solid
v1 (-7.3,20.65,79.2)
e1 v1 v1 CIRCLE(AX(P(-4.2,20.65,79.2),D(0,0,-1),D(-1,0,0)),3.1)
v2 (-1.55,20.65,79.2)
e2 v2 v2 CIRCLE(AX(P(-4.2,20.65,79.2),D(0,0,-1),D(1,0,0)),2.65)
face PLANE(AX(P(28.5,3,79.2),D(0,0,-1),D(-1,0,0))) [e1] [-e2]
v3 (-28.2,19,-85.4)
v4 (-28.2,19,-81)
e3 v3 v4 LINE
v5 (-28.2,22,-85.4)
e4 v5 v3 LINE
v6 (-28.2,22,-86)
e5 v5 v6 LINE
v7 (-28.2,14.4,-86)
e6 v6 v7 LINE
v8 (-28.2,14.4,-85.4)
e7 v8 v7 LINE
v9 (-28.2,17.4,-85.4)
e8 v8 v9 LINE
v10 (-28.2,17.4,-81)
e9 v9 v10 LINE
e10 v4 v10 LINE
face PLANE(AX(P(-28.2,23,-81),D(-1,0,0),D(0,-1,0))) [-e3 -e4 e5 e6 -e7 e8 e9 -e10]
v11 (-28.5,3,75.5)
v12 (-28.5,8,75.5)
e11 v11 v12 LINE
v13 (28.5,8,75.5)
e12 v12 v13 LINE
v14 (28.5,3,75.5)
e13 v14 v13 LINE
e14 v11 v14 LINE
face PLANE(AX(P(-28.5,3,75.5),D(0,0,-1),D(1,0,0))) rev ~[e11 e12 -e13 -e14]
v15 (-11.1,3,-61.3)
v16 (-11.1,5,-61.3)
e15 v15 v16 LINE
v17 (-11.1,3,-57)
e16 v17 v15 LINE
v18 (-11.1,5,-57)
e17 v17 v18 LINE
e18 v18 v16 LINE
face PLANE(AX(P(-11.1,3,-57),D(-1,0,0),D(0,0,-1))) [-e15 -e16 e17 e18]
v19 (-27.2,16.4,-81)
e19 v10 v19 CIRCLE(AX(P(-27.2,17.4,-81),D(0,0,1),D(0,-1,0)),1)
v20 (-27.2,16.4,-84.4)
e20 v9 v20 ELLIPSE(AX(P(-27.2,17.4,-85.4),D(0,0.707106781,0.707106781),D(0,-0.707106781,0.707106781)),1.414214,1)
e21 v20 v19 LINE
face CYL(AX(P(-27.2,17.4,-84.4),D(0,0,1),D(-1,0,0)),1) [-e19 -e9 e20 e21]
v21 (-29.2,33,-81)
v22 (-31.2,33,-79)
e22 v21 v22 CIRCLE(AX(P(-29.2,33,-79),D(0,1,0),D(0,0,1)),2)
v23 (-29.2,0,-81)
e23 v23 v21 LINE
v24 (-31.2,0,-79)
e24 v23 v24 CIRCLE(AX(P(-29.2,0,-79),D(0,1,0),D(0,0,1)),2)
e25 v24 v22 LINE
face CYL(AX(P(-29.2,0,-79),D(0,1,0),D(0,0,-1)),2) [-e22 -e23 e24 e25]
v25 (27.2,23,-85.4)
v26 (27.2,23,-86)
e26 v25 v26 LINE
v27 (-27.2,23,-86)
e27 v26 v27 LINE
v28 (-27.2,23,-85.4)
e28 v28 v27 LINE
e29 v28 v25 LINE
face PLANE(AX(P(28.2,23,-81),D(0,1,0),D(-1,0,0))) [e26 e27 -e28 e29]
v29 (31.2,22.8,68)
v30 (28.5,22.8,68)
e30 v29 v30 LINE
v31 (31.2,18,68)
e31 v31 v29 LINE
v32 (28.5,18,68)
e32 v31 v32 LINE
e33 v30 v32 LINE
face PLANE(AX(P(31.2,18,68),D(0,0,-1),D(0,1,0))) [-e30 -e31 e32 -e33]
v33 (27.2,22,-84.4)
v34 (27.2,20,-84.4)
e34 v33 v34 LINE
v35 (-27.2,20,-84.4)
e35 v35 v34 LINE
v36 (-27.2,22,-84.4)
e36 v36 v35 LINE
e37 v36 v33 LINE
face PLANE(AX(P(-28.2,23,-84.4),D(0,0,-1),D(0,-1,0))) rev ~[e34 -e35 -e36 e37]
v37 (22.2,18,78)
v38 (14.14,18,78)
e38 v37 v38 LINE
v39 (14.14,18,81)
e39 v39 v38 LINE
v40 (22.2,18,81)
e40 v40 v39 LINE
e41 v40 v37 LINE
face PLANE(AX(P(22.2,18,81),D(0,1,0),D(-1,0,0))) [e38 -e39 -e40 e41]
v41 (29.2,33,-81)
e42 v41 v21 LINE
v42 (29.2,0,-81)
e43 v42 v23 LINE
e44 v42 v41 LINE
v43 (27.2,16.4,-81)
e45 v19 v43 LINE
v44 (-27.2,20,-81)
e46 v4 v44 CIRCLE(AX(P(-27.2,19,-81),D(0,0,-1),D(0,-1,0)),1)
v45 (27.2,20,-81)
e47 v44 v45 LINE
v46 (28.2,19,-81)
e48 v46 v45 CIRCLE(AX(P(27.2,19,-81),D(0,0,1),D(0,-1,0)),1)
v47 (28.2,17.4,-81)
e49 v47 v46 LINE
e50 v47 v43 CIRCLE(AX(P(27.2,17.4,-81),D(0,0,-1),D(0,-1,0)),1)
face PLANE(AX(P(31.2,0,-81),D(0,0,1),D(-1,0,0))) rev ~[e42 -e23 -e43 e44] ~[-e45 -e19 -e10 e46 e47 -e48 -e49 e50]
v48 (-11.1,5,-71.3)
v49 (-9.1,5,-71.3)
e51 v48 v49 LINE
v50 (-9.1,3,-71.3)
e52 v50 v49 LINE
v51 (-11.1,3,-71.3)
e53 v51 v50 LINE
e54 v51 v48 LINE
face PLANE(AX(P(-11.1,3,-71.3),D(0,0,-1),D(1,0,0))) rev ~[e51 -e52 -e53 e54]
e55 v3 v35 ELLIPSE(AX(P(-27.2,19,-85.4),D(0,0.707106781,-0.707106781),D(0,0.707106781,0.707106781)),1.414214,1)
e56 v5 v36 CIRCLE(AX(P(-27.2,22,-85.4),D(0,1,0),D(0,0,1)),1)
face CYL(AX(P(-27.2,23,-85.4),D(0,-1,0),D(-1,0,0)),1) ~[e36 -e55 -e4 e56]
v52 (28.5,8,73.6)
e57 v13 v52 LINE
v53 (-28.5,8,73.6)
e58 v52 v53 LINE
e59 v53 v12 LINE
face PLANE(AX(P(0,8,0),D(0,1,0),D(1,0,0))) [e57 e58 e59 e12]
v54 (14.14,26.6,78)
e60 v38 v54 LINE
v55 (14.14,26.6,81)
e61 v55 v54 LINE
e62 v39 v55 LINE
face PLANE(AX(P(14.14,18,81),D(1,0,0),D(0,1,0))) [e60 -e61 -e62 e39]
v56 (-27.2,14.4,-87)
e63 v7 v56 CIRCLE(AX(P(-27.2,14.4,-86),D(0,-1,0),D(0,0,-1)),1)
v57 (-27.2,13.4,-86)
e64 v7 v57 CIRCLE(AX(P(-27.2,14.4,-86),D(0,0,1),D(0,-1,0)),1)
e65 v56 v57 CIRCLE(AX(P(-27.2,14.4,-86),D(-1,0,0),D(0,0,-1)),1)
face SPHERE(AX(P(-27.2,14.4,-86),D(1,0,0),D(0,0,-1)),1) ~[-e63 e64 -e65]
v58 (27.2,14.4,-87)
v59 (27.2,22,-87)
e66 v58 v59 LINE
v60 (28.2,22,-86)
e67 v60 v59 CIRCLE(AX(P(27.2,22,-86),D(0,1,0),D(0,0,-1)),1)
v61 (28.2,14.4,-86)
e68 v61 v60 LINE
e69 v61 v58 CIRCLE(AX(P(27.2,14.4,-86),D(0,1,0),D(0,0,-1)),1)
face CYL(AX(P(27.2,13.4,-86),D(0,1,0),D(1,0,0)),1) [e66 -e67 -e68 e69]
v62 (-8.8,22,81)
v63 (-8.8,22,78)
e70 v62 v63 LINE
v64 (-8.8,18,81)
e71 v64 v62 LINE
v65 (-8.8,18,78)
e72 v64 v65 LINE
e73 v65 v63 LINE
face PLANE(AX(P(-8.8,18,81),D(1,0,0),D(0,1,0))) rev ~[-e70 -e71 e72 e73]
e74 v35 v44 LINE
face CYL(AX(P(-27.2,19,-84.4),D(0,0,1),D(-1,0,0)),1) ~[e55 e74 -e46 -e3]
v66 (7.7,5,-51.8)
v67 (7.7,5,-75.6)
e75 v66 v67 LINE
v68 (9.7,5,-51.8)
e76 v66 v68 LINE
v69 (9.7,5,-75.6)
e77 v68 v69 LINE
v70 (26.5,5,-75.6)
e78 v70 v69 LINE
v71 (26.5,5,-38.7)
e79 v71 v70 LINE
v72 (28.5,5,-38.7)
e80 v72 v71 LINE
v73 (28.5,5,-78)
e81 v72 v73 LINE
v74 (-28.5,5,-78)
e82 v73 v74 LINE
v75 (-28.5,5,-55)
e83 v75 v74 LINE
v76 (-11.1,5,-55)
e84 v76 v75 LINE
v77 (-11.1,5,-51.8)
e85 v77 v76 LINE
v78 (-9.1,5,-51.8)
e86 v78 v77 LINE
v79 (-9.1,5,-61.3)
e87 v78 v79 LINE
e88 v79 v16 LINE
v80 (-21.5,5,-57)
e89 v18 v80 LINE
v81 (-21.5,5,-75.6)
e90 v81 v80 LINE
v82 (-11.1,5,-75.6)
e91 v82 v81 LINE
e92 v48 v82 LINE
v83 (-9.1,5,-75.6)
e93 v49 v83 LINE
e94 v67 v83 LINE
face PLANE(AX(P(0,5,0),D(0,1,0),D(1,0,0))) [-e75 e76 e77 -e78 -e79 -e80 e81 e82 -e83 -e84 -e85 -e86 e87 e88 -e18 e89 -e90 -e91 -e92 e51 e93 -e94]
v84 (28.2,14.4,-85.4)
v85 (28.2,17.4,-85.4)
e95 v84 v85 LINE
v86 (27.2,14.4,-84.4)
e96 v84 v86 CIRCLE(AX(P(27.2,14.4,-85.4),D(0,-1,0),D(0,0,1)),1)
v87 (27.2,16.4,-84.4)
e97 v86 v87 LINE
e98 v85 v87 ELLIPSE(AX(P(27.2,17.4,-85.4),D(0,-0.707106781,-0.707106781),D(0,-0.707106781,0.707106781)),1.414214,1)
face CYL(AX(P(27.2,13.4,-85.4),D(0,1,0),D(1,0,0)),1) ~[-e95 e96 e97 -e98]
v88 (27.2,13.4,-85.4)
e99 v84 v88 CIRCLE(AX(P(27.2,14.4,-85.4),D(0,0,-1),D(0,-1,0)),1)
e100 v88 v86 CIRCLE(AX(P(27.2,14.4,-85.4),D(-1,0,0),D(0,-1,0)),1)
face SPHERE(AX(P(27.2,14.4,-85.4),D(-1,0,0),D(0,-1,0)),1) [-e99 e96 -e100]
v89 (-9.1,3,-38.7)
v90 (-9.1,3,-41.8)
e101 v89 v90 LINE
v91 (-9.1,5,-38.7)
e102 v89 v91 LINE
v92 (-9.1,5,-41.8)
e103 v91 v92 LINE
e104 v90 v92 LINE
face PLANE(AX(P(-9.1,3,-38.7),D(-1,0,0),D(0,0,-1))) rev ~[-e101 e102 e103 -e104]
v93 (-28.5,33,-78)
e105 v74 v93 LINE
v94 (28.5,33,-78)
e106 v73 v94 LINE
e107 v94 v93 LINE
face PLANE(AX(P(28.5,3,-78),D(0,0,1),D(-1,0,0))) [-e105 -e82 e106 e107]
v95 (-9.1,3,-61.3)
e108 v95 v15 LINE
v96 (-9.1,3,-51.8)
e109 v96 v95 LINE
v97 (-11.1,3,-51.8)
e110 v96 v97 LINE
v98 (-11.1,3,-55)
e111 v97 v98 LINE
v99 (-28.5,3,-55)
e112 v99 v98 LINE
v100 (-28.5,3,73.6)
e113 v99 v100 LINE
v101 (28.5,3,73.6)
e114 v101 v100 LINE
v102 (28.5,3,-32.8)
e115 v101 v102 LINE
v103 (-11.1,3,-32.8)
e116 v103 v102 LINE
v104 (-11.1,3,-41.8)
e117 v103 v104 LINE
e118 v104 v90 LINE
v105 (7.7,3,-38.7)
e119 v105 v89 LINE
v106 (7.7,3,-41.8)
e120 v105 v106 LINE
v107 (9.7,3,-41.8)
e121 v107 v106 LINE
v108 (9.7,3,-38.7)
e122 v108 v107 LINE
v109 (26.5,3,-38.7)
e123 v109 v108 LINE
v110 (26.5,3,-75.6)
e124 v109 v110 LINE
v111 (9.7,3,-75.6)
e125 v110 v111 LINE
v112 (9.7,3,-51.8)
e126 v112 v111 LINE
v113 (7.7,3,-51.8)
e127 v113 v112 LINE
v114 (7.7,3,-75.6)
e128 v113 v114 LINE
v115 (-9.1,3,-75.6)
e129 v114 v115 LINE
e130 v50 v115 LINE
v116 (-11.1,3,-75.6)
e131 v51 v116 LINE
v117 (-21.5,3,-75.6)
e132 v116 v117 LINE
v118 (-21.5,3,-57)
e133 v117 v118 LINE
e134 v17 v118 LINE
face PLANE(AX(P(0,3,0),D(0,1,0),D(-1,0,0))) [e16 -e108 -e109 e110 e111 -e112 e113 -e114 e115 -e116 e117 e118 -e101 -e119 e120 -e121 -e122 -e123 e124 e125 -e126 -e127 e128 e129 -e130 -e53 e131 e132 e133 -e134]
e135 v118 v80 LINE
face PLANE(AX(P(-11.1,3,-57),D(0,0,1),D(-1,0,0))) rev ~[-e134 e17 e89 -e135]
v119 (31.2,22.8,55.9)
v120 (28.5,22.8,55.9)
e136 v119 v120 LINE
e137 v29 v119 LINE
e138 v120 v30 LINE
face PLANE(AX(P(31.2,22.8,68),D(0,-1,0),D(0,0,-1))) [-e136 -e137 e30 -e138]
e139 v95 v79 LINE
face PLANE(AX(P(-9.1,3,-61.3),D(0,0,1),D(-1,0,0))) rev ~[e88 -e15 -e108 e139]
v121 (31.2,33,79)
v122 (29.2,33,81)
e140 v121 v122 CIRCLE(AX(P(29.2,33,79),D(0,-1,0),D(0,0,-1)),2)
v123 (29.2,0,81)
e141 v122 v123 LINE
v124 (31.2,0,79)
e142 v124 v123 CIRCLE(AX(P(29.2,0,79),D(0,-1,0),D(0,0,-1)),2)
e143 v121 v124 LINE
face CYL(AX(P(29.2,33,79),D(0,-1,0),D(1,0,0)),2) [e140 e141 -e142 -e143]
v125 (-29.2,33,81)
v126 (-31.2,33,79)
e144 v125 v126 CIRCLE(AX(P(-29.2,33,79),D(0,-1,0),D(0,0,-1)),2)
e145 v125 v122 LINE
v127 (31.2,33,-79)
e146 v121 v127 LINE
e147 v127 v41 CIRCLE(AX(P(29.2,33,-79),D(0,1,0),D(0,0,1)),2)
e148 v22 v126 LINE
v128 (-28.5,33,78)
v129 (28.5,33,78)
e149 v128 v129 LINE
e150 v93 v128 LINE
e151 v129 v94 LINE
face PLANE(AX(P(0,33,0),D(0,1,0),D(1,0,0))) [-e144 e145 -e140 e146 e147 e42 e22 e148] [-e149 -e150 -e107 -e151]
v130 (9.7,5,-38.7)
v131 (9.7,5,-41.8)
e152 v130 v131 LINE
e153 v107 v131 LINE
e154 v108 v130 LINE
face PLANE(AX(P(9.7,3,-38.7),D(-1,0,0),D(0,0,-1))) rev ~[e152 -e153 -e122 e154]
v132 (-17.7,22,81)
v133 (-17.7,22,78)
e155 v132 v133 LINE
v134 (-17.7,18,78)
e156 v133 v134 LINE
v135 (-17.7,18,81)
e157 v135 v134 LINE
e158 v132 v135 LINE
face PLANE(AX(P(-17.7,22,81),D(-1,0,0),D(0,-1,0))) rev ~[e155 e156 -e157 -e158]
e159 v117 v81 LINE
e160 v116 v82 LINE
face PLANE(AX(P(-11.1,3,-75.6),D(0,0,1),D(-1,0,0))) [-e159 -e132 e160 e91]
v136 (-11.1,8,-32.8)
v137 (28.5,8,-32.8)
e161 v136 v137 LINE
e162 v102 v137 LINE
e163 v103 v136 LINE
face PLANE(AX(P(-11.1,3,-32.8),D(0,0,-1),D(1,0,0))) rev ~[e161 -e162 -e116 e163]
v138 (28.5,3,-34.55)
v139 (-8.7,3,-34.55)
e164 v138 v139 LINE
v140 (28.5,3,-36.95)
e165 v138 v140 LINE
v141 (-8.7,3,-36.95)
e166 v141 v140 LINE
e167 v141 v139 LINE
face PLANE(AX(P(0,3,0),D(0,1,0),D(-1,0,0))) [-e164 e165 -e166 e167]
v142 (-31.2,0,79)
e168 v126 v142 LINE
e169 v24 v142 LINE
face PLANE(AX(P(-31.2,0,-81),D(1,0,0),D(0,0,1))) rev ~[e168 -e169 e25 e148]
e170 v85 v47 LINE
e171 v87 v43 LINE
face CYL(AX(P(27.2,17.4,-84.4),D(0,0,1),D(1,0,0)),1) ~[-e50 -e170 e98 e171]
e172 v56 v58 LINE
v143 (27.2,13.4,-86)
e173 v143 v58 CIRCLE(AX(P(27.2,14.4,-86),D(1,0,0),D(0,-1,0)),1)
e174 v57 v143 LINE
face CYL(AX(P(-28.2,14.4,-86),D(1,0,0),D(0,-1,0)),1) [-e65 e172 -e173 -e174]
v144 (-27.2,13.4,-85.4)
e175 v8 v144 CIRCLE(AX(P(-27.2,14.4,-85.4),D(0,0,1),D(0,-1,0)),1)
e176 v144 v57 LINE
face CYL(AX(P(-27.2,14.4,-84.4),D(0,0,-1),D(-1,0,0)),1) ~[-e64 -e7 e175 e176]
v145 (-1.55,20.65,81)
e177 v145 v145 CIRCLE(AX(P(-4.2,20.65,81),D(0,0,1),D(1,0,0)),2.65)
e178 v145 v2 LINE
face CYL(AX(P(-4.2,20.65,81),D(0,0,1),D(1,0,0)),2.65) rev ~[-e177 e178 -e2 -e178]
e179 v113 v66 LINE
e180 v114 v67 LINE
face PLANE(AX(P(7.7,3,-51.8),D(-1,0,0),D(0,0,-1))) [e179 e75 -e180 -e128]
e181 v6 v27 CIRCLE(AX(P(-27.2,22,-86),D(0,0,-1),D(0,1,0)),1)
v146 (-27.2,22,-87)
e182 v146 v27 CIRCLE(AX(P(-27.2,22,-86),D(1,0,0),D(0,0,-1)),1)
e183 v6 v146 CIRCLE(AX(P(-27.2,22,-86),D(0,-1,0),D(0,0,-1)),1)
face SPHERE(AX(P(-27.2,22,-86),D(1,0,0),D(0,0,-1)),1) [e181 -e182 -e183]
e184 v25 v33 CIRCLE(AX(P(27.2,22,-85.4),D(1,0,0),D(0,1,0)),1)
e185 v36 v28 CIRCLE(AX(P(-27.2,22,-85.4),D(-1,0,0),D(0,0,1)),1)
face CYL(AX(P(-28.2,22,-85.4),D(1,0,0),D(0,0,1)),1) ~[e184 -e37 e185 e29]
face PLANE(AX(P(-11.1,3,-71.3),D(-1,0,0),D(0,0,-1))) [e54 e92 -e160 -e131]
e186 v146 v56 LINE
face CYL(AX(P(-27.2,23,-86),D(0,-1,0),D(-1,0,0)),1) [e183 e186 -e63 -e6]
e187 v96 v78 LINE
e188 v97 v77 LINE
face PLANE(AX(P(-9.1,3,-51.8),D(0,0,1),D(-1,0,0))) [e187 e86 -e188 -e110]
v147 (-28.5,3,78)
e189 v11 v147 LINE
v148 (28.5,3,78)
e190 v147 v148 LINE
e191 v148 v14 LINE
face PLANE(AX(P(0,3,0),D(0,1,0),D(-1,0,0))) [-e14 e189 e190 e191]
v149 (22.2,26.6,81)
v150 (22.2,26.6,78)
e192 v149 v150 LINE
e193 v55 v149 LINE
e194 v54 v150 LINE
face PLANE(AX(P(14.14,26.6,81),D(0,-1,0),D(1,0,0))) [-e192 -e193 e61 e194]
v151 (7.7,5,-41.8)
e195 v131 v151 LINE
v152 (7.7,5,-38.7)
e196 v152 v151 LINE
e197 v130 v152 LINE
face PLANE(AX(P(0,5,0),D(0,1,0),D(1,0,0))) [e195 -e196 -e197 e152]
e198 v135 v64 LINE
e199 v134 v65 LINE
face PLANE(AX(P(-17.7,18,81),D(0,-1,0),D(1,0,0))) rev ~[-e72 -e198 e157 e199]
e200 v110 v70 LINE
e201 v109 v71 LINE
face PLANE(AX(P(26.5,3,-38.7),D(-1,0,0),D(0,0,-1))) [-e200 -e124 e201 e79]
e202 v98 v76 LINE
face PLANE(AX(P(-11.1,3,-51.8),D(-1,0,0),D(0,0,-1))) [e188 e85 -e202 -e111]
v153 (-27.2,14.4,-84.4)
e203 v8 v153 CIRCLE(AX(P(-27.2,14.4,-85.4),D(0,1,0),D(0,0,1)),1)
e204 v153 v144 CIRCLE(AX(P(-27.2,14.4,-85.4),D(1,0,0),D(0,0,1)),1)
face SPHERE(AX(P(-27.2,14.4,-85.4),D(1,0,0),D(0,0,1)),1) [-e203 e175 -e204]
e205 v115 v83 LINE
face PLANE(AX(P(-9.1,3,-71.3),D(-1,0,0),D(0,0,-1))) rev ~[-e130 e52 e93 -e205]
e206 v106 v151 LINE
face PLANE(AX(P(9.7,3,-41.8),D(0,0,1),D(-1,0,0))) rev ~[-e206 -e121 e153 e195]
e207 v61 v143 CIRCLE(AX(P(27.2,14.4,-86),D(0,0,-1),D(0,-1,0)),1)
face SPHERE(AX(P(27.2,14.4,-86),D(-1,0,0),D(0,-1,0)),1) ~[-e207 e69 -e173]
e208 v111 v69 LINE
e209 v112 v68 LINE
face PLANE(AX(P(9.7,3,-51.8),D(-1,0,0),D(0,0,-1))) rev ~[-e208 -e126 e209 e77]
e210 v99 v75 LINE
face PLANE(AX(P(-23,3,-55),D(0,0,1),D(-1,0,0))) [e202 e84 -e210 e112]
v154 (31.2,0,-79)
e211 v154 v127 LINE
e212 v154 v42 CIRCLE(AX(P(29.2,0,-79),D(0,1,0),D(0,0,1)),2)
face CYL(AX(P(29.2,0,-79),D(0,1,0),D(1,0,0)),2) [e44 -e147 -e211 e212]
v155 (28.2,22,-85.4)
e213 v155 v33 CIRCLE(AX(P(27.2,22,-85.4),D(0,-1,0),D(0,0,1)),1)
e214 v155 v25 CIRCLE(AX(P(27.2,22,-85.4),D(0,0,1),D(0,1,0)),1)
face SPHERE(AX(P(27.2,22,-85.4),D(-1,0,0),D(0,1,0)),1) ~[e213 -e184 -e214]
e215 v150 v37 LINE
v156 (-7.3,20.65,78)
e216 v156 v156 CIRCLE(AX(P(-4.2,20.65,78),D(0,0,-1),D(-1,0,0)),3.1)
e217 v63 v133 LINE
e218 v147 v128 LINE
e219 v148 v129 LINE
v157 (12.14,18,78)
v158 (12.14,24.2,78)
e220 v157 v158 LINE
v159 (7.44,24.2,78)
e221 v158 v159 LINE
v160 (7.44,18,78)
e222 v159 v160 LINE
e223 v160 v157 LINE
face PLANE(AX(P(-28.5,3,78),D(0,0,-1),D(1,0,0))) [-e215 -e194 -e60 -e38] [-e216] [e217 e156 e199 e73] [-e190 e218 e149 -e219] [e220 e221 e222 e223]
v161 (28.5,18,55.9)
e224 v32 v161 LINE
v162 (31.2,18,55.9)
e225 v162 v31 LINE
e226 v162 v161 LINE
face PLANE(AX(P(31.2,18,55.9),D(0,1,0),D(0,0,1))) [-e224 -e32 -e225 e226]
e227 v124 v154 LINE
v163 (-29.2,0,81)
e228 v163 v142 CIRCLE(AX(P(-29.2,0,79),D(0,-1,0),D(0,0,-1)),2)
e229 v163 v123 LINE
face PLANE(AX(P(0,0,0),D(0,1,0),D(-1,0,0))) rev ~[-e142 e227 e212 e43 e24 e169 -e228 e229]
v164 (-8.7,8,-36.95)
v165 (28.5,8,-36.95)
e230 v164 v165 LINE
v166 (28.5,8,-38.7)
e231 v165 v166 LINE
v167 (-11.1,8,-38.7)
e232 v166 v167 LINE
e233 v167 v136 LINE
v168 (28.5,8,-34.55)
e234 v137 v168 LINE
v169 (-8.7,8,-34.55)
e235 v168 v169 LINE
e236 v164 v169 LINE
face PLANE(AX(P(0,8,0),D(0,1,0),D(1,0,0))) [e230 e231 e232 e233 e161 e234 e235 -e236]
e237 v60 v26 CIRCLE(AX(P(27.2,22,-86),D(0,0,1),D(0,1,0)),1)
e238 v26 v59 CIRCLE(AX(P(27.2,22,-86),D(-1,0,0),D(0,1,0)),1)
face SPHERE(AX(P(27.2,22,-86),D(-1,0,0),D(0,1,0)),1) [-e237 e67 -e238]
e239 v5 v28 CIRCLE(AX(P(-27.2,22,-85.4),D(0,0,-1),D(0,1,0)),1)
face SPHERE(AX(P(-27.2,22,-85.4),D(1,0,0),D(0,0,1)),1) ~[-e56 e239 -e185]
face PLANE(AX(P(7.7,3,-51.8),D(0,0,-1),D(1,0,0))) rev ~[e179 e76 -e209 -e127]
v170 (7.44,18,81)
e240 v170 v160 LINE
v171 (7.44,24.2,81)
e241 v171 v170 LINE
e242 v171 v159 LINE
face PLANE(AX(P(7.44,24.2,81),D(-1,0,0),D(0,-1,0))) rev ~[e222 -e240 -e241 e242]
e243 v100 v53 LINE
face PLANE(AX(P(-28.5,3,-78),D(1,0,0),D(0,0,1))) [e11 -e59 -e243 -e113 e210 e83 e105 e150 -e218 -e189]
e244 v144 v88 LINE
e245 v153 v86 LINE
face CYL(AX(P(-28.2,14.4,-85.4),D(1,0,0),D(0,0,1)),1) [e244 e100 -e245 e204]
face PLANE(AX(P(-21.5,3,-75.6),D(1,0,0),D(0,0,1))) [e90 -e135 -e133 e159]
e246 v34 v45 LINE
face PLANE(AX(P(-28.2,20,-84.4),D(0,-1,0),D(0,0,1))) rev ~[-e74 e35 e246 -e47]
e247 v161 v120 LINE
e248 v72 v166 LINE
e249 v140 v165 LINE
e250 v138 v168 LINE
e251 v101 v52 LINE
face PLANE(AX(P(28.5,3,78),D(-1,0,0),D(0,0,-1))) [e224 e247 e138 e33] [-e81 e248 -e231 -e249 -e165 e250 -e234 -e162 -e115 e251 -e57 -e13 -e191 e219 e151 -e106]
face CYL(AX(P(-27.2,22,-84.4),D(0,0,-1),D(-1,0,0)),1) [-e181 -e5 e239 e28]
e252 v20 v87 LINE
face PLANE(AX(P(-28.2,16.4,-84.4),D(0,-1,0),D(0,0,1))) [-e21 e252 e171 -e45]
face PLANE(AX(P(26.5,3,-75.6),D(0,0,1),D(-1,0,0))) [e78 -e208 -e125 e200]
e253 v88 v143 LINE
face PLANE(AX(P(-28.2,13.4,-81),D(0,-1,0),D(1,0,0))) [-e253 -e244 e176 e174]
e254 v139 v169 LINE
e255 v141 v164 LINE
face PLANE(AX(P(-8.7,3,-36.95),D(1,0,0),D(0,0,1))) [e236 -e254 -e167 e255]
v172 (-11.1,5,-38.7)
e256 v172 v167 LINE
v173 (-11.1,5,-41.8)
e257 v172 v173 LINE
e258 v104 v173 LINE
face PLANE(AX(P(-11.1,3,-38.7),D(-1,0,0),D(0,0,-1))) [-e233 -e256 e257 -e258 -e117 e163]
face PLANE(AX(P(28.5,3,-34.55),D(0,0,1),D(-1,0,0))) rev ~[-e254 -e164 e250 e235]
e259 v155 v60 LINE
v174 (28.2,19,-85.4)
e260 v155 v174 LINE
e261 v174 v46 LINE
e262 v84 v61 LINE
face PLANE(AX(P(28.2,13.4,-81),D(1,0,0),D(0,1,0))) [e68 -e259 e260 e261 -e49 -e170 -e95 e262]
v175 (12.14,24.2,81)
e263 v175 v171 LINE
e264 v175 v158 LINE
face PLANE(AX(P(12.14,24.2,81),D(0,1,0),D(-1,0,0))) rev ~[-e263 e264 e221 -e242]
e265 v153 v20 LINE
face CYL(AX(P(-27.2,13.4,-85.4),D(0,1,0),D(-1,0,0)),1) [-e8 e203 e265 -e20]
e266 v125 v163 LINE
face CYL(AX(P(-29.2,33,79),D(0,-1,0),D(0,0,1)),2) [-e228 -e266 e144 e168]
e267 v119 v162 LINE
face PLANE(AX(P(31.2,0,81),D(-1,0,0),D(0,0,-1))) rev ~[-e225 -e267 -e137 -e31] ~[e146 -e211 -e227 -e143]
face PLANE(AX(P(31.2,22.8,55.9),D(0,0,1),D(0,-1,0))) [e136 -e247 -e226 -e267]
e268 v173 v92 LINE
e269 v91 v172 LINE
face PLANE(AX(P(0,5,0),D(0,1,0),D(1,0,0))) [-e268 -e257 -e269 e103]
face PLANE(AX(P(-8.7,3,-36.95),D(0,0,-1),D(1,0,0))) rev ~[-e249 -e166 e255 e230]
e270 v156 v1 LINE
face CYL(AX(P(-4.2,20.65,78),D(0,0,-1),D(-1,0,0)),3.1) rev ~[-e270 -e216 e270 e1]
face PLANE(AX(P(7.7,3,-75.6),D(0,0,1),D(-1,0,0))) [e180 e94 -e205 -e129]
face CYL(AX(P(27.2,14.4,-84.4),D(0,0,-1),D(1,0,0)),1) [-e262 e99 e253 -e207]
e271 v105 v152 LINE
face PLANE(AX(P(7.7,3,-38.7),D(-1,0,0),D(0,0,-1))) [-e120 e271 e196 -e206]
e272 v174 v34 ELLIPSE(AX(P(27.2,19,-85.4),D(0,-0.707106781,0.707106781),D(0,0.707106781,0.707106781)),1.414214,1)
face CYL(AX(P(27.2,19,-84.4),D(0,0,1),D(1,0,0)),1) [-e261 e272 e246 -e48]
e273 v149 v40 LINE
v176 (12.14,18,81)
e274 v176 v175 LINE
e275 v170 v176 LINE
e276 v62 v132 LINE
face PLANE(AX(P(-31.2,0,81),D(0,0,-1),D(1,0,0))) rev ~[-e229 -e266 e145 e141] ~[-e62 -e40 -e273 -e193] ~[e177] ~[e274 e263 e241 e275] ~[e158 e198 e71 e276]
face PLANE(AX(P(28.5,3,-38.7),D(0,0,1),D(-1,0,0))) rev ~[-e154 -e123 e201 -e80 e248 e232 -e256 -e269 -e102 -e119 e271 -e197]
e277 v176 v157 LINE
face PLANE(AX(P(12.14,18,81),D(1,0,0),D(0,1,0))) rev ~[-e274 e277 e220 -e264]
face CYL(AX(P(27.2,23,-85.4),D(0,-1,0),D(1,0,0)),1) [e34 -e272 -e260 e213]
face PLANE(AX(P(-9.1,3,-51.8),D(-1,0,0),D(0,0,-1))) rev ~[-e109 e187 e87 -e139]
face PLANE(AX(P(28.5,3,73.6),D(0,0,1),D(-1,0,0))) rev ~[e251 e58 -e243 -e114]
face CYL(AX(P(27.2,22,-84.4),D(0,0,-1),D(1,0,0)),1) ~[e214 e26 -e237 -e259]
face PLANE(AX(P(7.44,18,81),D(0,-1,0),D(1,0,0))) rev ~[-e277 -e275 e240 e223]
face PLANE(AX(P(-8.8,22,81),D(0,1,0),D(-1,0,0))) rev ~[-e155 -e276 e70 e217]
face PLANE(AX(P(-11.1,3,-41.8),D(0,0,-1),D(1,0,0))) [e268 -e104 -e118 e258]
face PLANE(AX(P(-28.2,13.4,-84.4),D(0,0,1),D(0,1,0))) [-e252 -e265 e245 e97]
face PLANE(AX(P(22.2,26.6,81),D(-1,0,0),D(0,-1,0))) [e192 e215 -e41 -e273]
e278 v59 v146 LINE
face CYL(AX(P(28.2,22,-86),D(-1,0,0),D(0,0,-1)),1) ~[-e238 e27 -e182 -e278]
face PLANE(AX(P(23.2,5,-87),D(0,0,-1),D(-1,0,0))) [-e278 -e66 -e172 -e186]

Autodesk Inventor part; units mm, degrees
ref_plane "YZ Plane" through (0, 0, 0) normal (1, 0, 0) x (0, 1, 0)
ref_plane "XZ Plane" through (0, 0, 0) normal (0, 1, 0) x (-1, 0, 0)
ref_plane "XY Plane" through (0, 0, 0) normal (0, 0, 1) x (1, 0, 0)
sketch "Sketch1" plane through (0, 0, 0) normal (0, 1, 0) x (-1, 0, 0)
  line L0 (-31.2, -81) -> (31.2, -81)
  line L1 (31.2, -81) -> (31.2, 81)
  line L2 (31.2, 81) -> (-31.2, 81)
  line L3 (-31.2, 81) -> (-31.2, -81)
  line L4 (-31.2, -81) -> (31.2, 81) construction
  line L5 (31.2, -81) -> (-31.2, 81) construction
  point P0 (0, 0)
  dimension "d0" = 62.4
  dimension "d1" = 162
extrude "Extrusion1" add sketch "Sketch1" along normal blind 3
sketch "Sketch2" plane through (0, 3, 0) normal (0, 1, 0) x (1, 0, 0)
  line L0 (-31.2, 81) -> (-31.2, -81) projected
  line L1 (-31.2, -81) -> (31.2, -81) projected
  line L2 (31.2, -81) -> (31.2, 81) projected
  line L3 (31.2, 81) -> (-31.2, 81) projected
  line L4 (31.2, 81) -> (-31.2, 81)
  line L5 (-31.2, 81) -> (-31.2, -81)
  line L6 (-31.2, -81) -> (31.2, -81)
  line L7 (31.2, -81) -> (31.2, 81)
  line L8 (28.5, 78) -> (-28.5, 78)
  line L9 (-28.5, 78) -> (-28.5, -78)
  line L10 (-28.5, -78) -> (28.5, -78)
  line L11 (28.5, -78) -> (28.5, 78)
  point P0 (0, 0)
  dimension "d175" = 2.7
  dimension "d176" = 2.7
  dimension "d177" = 3
  dimension "d178" = 3
extrude "Extrusion2" add sketch "Sketch2" along normal blind 30
fillet "Fillet1" radius 2 4 edges at (31.2, 16.5, 81) (31.2, 16.5, -81) (-31.2, 16.5, 81) (-31.2, 16.5, -81)
sketch "Sketch9" plane through (0, 3, 0) normal (0, 1, 0) x (1, 0, 0)
  line L0 (28.5, 78) -> (-28.5, 78) projected
  line L1 (-28.5, 78) -> (-28.5, -78) projected
  line L2 (-28.5, -78) -> (28.5, -78) projected
  line L3 (28.5, -78) -> (28.5, 78) projected
  line L4 (-28.5, -75.5) -> (28.5, -75.5)
  line L5 (28.5, -75.5) -> (28.5, -73.6)
  line L6 (28.5, -73.6) -> (-28.5, -73.6)
  line L7 (-28.5, -73.6) -> (-28.5, -75.5)
  line L8 (-28.5, 78) -> (-28.5, -78) projected
  line L9 (-28.5, 32.8) -> (28.5, 32.8)
  line L10 (28.5, 32.8) -> (28.5, 34.55)
  line L11 (28.5, 34.55) -> (-28.5, 34.55)
  line L12 (-28.5, 34.55) -> (-28.5, 32.8)
  line L13 (-28.5, 34.55) -> (-11.1, 34.55)
  line L14 (-11.1, 34.55) -> (-11.1, 32.8)
  line L15 (-11.1, 32.8) -> (-28.5, 32.8)
  line L16 (-28.5, 32.8) -> (-28.5, 34.55)
  line L17 (28.5, 38.7) -> (-11.1, 38.7)
  line L18 (-11.1, 38.7) -> (-11.1, 36.95)
  line L19 (-11.1, 36.95) -> (28.5, 36.95)
  line L20 (28.5, 36.95) -> (28.5, 38.7)
  line L21 (-11.1, 36.95) -> (-8.7, 36.95)
  line L22 (-8.7, 36.95) -> (-8.7, 34.55)
  line L23 (-8.7, 34.55) -> (-11.1, 34.55)
  line L24 (-11.1, 34.55) -> (-11.1, 36.95)
  point P0 (0, 0)
  point P1 (28.5, 14.2)
  point P2 (-28.5, 34.55)
  point P3 (-28.5, 32.8)
  point P4 (28.5, 32.8)
  point P5 (-28.5, -73.6)
  point P6 (28.5, -75.5)
  point P7 (-11.1, 34.55)
  point P8 (28.5, 36.95)
  dimension "d79" = 1.9
  dimension "d80" = 2.5
  dimension "d81" = 1.75
  dimension "d82" = 106.4
  dimension "d87" = 17.4
  dimension "d163" = 1.75
  dimension "d164" = 2.4
  dimension "d165" = 17.4
  dimension "d166" = 2.4
extrude "Extrusion9" add sketch "Sketch9" along normal blind 5 contours L3 L19 L18 L17 | L24 L19 L22 L11 | L11 L3 L9 L14 | L6 L3 L4 L1
sketch "Sketch10" plane through (0, 3, 0) normal (0, 1, 0) x (1, 0, 0)
  line L0 (-28.5, -73.6) -> (28.5, -73.6) projected
  line L1 (28.5, -73.6) -> (28.5, 32.8) projected
  line L2 (28.5, 32.8) -> (-11.1, 32.8) projected
  line L3 (-8.7, 34.55) -> (28.5, 34.55) projected
  line L4 (28.5, 34.55) -> (28.5, 36.95) projected
  line L5 (28.5, 78) -> (-28.5, 78) projected
  line L6 (-28.5, 78) -> (-28.5, -73.6) projected
  line L7 (-28.5, 36.7) -> (28.5, 36.7)
  line L8 (-28.5, 69.9) -> (-28.5, 36.7)
  line L9 (-28.5, 36.7) -> (28.5, 36.7)
  line L10 (28.5, 36.7) -> (28.5, 38.7)
  line L11 (28.5, 38.7) -> (-28.5, 38.7)
  line L12 (-28.5, 38.7) -> (-28.5, 36.7)
  line L13 (28.5, 34.55) -> (28.5, 78) projected
  line L14 (-28.5, 38.7) -> (28.5, 38.7)
  line L15 (28.5, 38.7) -> (28.5, 75.6)
  line L16 (28.5, 75.6) -> (-23, 75.6)
  line L17 (-23, 75.6) -> (28.5, 75.6)
  line L18 (28.5, 75.6) -> (28.5, 68)
  line L19 (-23, 73.1) -> (-23, 75.6)
  line L20 (28.5, 38.7) -> (26.5, 38.7)
  line L21 (26.5, 38.7) -> (26.5, 75.6)
  line L22 (26.5, 75.6) -> (28.5, 75.6)
  line L23 (28.5, 75.6) -> (28.5, 38.7)
  line L24 (26.5, 38.7) -> (9.7, 38.7)
  line L25 (9.7, 38.7) -> (9.7, 75.6)
  line L26 (9.7, 75.6) -> (26.5, 75.6)
  line L27 (26.5, 75.6) -> (26.5, 38.7)
  line L28 (9.7, 38.7) -> (7.7, 38.7)
  line L29 (7.7, 38.7) -> (7.7, 75.6)
  line L30 (7.7, 75.6) -> (9.7, 75.6)
  line L31 (9.7, 75.6) -> (9.7, 38.7)
  line L32 (7.7, 38.7) -> (-9.1, 38.7)
  line L33 (-9.1, 38.7) -> (-9.1, 75.6)
  line L34 (-9.1, 75.6) -> (7.7, 75.6)
  line L35 (7.7, 75.6) -> (7.7, 38.7)
  line L36 (-9.1, 38.7) -> (-11.1, 38.7)
  line L37 (-11.1, 38.7) -> (-11.1, 75.6)
  line L38 (-11.1, 75.6) -> (-9.1, 75.6)
  line L39 (-9.1, 75.6) -> (-9.1, 38.7)
  line L40 (-23, 75.6) -> (-21.5, 75.6)
  line L41 (-21.5, 75.6) -> (-21.5, 38.7)
  line L42 (-21.5, 38.7) -> (-23, 38.7)
  line L43 (-23, 38.7) -> (-23, 75.6)
  line L44 (-11.1, 39.2) -> (-11.1, 57)
  line L45 (-11.1, 57) -> (-21.5, 57)
  line L46 (-21.5, 57) -> (-21.5, 38.7)
  line L47 (-11.1, 38.7) -> (28.5, 38.7) projected
  line L48 (28.5, 38.7) -> (28.5, 78) projected
  line L49 (-11.1, 32.8) -> (-11.1, 38.7) projected
  line L50 (28.5, 36.95) -> (-8.7, 36.95) projected
  line L51 (-8.7, 36.95) -> (-8.7, 34.55) projected
  line L52 (28.5, -75.5) -> (-28.5, -75.5) projected
  line L53 (-28.5, -75.5) -> (-28.5, -78) projected
  line L54 (-28.5, -78) -> (28.5, -78) projected
  line L55 (28.5, -78) -> (28.5, -75.5) projected
  line L56 (-11.1, 39.2) -> (-11.1, 36.7)
  line L57 (-11.1, 55) -> (-23, 55)
  line L58 (-11.1, 39.2) -> (-11.1, 32.8)
  line L59 (-11.1, 32.8) -> (-11.1, 32.8)
  line L60 (-11.1, 32.8) -> (-11.1, 39.2)
  line L61 (-23, 55) -> (-28.5, 55)
  line L62 (7.7, 51.8) -> (9.7, 51.8)
  line L63 (9.7, 51.8) -> (9.7, 41.8)
  line L64 (9.7, 41.8) -> (7.7, 41.8)
  line L65 (7.7, 41.8) -> (7.7, 51.8)
  line L66 (-11.1, 41.8) -> (-9.1, 41.8)
  line L67 (-9.1, 41.8) -> (-9.1, 51.8)
  line L68 (-9.1, 51.8) -> (-11.1, 51.8)
  line L69 (-11.1, 51.8) -> (-11.1, 41.8)
  line L70 (-11.1, 71.3) -> (-9.1, 71.3)
  line L71 (-9.1, 71.3) -> (-9.1, 61.3)
  line L72 (-9.1, 61.3) -> (-11.1, 61.3)
  line L73 (-11.1, 61.3) -> (-11.1, 71.3)
  point P0 (0, 0)
  point P1 (28.5, 36.7)
  point P2 (7.7, 38.7)
  point P3 (-9.1, 38.7)
  point P4 (-11.1, 38.7)
  point P5 (-21.5, 38.7)
  point P6 (-21.5, 57)
  point P7 (26.5, 38.7)
  point P8 (9.7, 38.7)
  point P9 (28.2, 37.2)
  point P10 (-11.1, 36.7)
  point P11 (-25.2, 72.6)
  point P12 (-11.1, 75.6)
  point P13 (-11.1, 36.7)
  point P14 (-11.1, 38.7)
  point P15 (-21.5, 75.6)
  point P16 (-25.2, 52)
  point P17 (-11.1, 36.7)
  point P18 (-28.5, 38.7)
  point P19 (28.5, 75.6)
  point P20 (28.5, 38.7)
  point P21 (-11.1, 36.7)
  point P22 (-11.1, 38.7)
  point P23 (-21.5, 55)
  point P24 (-11.1, 38.7)
  point P25 (-10.7, 32.8)
  point P26 (28.5, 38.7)
  point P27 (-11.1, 38.7)
  point P28 (-9.1, 38.7)
  point P29 (-28.5, 55)
  point P30 (7.7, 41.8)
  point P31 (-9.1, 41.8)
  point P32 (-9.1, 51.8)
  point P33 (-11.1, 61.3)
  point P34 (7.7, 51.8)
  point P35 (9.7, 51.8)
  dimension "d90" = 2
  dimension "d91" = 36.9
  dimension "d93" = 2
  dimension "d94" = 16.8
  dimension "d95" = 2
  dimension "d96" = 16.8
  dimension "d97" = 2
  dimension "d98" = 1.5
  dimension "d167" = 2.4
  dimension "d172" = 18.6
  dimension "d173" = 2
  dimension "d174" = 10.4
  dimension "d179" = 10
  dimension "d180" = 10
  dimension "d181" = 3.1
  dimension "d182" = 3.1
  dimension "d183" = 10
  dimension "d184" = 4.3
extrude "Extrusion10" add sketch "Sketch10" along normal blind 2 contours L6 L5 L13 L16 L19 L43 L61 | L37 L66 L33 L11 | L43 L19 L16 L41 L57 | L41 L45 L37 L57 | L29 L64 L25 L11 | L37 L72 L33 L68 | L11 L21 L16 L13 | L29 L16 L25 L62 | L16 L33 L70 L37
sketch "Sketch11" plane through (-23.2, 5, 81) normal (0, 0, 1) x (1, 0, 0)
  line L0 (-6, 28) -> (52.4, 28) projected
  line L1 (5.5, 13) -> (14.4, 13)
  line L2 (14.4, 13) -> (14.4, 17)
  line L3 (14.4, 17) -> (5.5, 17)
  line L4 (5.5, 17) -> (5.5, 13)
  line L5 (45.4, 13) -> (37.34, 13)
  line L6 (37.34, 13) -> (37.34, 21.6)
  line L7 (37.34, 21.6) -> (45.4, 21.6)
  line L8 (45.4, 21.6) -> (45.4, 13)
  circle A0 centre (19, 15.65) radius 2.65
  line L9 (48.4, 0) -> (48.4, 30) projected
  line L10 (52.4, 28) -> (52.4, -5) projected
  line L11 (-6, -5) -> (-6, 28) projected
  line L12 (-6, -5) -> (52.4, -5) projected
  line L13 (54.4, -5) -> (54.4, 28) projected
  line L14 (-8, 28) -> (-8, -5) projected
  line L15 (30.64, 13) -> (35.34, 13)
  line L16 (35.34, 13) -> (35.34, 19.2)
  line L17 (35.34, 19.2) -> (30.64, 19.2)
  line L18 (30.64, 19.2) -> (30.64, 13)
  point P0 (23.2, -5)
  point P1 (46.4, 0)
  point P2 (0, 0)
  dimension "d110" = 8.9
  dimension "d111" = 4
  dimension "d112" = 8.06
  dimension "d113" = 8.6
  dimension "d114" = 5.3
  dimension "d149" = 9
  dimension "d150" = 13.5
  dimension "d151" = 27
  dimension "d152" = 18
  dimension "d153" = 18
  dimension "d154" = 18
  dimension "d168" = 4.7
  dimension "d169" = 6.2
  dimension "d170" = 2
  dimension "d171" = 18
extrude "Extrusion11" cut sketch "Sketch11" against normal blind 3 contours L4 L3 L2 L1 | L5 L6 L7 L8 | A0 | L18 L17 L16 L15
sketch "Sketch12" plane through (28.5, 3, 78) normal (0, 0, -1) x (-1, 0, 0)
  line L0 (14.36, 23.6) -> (14.36, 15) projected
  line L1 (14.36, 15) -> (6.3, 15) projected
  line L2 (6.3, 15) -> (6.3, 23.6) projected
  line L3 (6.3, 23.6) -> (14.36, 23.6) projected
  line L4 (37.3, 19) -> (46.2, 19) projected
  line L5 (46.2, 19) -> (46.2, 15) projected
  line L6 (46.2, 15) -> (37.3, 15) projected
  line L7 (37.3, 15) -> (37.3, 19) projected
  circle A0 centre (32.7, 17.65) radius 2.65 projected
  line L8 (57, 0) -> (0, 0) projected
  line L9 (57, 0) -> (57, 30) projected
  line L10 (0, 30) -> (57, 30) projected
  line L11 (0, 0) -> (0, 30) projected
  circle A1 centre (32.7, 17.65) radius 3.1
  point P0 (28.5, -3)
  dimension "d128" = 6.2
extrude "Extrusion12" cut sketch "Sketch12" against normal blind 1.2 contours A1
sketch "Sketch13" plane through (23.2, 5, -81) normal (0, 0, -1) x (-1, 0, 0)
  line L0 (-5, 18) -> (51.4, 18)
  line L1 (51.4, 18) -> (51.4, 8.4)
  line L2 (51.4, 8.4) -> (-5, 8.4)
  line L3 (-5, 8.4) -> (-5, 18)
  line L4 (54.4, -5) -> (54.4, 28) projected
  line L5 (-8, 28) -> (-8, -5) projected
  line L6 (-6, -5) -> (52.4, -5) projected
  point P0 (23.2, -5)
  point P1 (51.4, 0)
  point P2 (-5, 0)
  point P3 (54.4, 11.5)
  point P4 (51.4, 13.2)
  dimension "d131" = 9.6
  dimension "d146" = 3
  dimension "d147" = 3
  dimension "d156" = 23
extrude "Extrusion13" add sketch "Sketch13" along normal blind 6
sketch "Sketch14" plane through (-28.2, 13.4, -81) normal (-1, 0, 0) x (0, 0, 1)
  line L0 (0, 9.6) -> (0, 0) projected
  line L1 (0, 9.6) -> (-6, 9.6) projected
  line L2 (-6, 0) -> (-6, 9.6) projected
  line L3 (0, 0) -> (-6, 0) projected
  line L4 (0, 9.6) -> (-3.4, 9.6)
  line L5 (-3.4, 9.6) -> (-3.4, 6.6)
  line L6 (-3.4, 6.6) -> (0, 6.6)
  line L7 (0, 6.6) -> (0, 9.6)
  line L8 (0, 0) -> (-3.4, 0)
  line L9 (-3.4, 0) -> (-3.4, 3)
  line L10 (-3.4, 3) -> (0, 3)
  line L11 (0, 3) -> (0, 0)
  point P0 (81, -13.4)
  point P1 (0, 6.6)
  dimension "d137" = 3.4
  dimension "d138" = 3
  dimension "d139" = 3.4
  dimension "d140" = 3
extrude "Extrusion14" cut sketch "Sketch14" against normal up to surface (56.4 mm away) contours L0 L6 L5 L1 | L0 L3 L9 L10
fillet "Fillet5" radius 1 18 edges at (0, 23, -87) (0, 23, -84.4) (0, 13.4, -87) (0, 13.4, -84.4) (-28.2, 16.4, -82.7) (-28.2, 20, -82.7) (28.2, 16.4, -82.7) (28.2, 20, -82.7) (-28.2, 18.2, -87) (-28.2, 21.5, -84.4) (-28.2, 14.9, -84.4) (-28.2, 23, -85.7) (-28.2, 13.4, -85.7) (28.2, 23, -85.7) (28.2, 13.4, -85.7) (28.2, 14.9, -84.4) (28.2, 18.2, -87) (28.2, 21.5, -84.4)
sketch "Sketch15" plane through (31.2, 0, 79) normal (1, 0, 0) x (0, 0, -1)
  line L0 (11, 22.8) -> (23.1, 22.8)
  line L1 (23.1, 22.8) -> (23.1, 18)
  line L2 (23.1, 18) -> (11, 18)
  line L3 (11, 18) -> (11, 22.8)
  line L4 (-2, 33) -> (-2, 0) projected
  line L5 (0, 0) -> (158, 0) projected
  point P0 (79, 0)
  dimension "d157" = 12.1
  dimension "d158" = 4.8
  dimension "d159" = 13
  dimension "d160" = 18
extrude "Extrusion15" cut sketch "Sketch15" against normal blind 3
properties part number "module_command" material "PC/ABS Plastic"
